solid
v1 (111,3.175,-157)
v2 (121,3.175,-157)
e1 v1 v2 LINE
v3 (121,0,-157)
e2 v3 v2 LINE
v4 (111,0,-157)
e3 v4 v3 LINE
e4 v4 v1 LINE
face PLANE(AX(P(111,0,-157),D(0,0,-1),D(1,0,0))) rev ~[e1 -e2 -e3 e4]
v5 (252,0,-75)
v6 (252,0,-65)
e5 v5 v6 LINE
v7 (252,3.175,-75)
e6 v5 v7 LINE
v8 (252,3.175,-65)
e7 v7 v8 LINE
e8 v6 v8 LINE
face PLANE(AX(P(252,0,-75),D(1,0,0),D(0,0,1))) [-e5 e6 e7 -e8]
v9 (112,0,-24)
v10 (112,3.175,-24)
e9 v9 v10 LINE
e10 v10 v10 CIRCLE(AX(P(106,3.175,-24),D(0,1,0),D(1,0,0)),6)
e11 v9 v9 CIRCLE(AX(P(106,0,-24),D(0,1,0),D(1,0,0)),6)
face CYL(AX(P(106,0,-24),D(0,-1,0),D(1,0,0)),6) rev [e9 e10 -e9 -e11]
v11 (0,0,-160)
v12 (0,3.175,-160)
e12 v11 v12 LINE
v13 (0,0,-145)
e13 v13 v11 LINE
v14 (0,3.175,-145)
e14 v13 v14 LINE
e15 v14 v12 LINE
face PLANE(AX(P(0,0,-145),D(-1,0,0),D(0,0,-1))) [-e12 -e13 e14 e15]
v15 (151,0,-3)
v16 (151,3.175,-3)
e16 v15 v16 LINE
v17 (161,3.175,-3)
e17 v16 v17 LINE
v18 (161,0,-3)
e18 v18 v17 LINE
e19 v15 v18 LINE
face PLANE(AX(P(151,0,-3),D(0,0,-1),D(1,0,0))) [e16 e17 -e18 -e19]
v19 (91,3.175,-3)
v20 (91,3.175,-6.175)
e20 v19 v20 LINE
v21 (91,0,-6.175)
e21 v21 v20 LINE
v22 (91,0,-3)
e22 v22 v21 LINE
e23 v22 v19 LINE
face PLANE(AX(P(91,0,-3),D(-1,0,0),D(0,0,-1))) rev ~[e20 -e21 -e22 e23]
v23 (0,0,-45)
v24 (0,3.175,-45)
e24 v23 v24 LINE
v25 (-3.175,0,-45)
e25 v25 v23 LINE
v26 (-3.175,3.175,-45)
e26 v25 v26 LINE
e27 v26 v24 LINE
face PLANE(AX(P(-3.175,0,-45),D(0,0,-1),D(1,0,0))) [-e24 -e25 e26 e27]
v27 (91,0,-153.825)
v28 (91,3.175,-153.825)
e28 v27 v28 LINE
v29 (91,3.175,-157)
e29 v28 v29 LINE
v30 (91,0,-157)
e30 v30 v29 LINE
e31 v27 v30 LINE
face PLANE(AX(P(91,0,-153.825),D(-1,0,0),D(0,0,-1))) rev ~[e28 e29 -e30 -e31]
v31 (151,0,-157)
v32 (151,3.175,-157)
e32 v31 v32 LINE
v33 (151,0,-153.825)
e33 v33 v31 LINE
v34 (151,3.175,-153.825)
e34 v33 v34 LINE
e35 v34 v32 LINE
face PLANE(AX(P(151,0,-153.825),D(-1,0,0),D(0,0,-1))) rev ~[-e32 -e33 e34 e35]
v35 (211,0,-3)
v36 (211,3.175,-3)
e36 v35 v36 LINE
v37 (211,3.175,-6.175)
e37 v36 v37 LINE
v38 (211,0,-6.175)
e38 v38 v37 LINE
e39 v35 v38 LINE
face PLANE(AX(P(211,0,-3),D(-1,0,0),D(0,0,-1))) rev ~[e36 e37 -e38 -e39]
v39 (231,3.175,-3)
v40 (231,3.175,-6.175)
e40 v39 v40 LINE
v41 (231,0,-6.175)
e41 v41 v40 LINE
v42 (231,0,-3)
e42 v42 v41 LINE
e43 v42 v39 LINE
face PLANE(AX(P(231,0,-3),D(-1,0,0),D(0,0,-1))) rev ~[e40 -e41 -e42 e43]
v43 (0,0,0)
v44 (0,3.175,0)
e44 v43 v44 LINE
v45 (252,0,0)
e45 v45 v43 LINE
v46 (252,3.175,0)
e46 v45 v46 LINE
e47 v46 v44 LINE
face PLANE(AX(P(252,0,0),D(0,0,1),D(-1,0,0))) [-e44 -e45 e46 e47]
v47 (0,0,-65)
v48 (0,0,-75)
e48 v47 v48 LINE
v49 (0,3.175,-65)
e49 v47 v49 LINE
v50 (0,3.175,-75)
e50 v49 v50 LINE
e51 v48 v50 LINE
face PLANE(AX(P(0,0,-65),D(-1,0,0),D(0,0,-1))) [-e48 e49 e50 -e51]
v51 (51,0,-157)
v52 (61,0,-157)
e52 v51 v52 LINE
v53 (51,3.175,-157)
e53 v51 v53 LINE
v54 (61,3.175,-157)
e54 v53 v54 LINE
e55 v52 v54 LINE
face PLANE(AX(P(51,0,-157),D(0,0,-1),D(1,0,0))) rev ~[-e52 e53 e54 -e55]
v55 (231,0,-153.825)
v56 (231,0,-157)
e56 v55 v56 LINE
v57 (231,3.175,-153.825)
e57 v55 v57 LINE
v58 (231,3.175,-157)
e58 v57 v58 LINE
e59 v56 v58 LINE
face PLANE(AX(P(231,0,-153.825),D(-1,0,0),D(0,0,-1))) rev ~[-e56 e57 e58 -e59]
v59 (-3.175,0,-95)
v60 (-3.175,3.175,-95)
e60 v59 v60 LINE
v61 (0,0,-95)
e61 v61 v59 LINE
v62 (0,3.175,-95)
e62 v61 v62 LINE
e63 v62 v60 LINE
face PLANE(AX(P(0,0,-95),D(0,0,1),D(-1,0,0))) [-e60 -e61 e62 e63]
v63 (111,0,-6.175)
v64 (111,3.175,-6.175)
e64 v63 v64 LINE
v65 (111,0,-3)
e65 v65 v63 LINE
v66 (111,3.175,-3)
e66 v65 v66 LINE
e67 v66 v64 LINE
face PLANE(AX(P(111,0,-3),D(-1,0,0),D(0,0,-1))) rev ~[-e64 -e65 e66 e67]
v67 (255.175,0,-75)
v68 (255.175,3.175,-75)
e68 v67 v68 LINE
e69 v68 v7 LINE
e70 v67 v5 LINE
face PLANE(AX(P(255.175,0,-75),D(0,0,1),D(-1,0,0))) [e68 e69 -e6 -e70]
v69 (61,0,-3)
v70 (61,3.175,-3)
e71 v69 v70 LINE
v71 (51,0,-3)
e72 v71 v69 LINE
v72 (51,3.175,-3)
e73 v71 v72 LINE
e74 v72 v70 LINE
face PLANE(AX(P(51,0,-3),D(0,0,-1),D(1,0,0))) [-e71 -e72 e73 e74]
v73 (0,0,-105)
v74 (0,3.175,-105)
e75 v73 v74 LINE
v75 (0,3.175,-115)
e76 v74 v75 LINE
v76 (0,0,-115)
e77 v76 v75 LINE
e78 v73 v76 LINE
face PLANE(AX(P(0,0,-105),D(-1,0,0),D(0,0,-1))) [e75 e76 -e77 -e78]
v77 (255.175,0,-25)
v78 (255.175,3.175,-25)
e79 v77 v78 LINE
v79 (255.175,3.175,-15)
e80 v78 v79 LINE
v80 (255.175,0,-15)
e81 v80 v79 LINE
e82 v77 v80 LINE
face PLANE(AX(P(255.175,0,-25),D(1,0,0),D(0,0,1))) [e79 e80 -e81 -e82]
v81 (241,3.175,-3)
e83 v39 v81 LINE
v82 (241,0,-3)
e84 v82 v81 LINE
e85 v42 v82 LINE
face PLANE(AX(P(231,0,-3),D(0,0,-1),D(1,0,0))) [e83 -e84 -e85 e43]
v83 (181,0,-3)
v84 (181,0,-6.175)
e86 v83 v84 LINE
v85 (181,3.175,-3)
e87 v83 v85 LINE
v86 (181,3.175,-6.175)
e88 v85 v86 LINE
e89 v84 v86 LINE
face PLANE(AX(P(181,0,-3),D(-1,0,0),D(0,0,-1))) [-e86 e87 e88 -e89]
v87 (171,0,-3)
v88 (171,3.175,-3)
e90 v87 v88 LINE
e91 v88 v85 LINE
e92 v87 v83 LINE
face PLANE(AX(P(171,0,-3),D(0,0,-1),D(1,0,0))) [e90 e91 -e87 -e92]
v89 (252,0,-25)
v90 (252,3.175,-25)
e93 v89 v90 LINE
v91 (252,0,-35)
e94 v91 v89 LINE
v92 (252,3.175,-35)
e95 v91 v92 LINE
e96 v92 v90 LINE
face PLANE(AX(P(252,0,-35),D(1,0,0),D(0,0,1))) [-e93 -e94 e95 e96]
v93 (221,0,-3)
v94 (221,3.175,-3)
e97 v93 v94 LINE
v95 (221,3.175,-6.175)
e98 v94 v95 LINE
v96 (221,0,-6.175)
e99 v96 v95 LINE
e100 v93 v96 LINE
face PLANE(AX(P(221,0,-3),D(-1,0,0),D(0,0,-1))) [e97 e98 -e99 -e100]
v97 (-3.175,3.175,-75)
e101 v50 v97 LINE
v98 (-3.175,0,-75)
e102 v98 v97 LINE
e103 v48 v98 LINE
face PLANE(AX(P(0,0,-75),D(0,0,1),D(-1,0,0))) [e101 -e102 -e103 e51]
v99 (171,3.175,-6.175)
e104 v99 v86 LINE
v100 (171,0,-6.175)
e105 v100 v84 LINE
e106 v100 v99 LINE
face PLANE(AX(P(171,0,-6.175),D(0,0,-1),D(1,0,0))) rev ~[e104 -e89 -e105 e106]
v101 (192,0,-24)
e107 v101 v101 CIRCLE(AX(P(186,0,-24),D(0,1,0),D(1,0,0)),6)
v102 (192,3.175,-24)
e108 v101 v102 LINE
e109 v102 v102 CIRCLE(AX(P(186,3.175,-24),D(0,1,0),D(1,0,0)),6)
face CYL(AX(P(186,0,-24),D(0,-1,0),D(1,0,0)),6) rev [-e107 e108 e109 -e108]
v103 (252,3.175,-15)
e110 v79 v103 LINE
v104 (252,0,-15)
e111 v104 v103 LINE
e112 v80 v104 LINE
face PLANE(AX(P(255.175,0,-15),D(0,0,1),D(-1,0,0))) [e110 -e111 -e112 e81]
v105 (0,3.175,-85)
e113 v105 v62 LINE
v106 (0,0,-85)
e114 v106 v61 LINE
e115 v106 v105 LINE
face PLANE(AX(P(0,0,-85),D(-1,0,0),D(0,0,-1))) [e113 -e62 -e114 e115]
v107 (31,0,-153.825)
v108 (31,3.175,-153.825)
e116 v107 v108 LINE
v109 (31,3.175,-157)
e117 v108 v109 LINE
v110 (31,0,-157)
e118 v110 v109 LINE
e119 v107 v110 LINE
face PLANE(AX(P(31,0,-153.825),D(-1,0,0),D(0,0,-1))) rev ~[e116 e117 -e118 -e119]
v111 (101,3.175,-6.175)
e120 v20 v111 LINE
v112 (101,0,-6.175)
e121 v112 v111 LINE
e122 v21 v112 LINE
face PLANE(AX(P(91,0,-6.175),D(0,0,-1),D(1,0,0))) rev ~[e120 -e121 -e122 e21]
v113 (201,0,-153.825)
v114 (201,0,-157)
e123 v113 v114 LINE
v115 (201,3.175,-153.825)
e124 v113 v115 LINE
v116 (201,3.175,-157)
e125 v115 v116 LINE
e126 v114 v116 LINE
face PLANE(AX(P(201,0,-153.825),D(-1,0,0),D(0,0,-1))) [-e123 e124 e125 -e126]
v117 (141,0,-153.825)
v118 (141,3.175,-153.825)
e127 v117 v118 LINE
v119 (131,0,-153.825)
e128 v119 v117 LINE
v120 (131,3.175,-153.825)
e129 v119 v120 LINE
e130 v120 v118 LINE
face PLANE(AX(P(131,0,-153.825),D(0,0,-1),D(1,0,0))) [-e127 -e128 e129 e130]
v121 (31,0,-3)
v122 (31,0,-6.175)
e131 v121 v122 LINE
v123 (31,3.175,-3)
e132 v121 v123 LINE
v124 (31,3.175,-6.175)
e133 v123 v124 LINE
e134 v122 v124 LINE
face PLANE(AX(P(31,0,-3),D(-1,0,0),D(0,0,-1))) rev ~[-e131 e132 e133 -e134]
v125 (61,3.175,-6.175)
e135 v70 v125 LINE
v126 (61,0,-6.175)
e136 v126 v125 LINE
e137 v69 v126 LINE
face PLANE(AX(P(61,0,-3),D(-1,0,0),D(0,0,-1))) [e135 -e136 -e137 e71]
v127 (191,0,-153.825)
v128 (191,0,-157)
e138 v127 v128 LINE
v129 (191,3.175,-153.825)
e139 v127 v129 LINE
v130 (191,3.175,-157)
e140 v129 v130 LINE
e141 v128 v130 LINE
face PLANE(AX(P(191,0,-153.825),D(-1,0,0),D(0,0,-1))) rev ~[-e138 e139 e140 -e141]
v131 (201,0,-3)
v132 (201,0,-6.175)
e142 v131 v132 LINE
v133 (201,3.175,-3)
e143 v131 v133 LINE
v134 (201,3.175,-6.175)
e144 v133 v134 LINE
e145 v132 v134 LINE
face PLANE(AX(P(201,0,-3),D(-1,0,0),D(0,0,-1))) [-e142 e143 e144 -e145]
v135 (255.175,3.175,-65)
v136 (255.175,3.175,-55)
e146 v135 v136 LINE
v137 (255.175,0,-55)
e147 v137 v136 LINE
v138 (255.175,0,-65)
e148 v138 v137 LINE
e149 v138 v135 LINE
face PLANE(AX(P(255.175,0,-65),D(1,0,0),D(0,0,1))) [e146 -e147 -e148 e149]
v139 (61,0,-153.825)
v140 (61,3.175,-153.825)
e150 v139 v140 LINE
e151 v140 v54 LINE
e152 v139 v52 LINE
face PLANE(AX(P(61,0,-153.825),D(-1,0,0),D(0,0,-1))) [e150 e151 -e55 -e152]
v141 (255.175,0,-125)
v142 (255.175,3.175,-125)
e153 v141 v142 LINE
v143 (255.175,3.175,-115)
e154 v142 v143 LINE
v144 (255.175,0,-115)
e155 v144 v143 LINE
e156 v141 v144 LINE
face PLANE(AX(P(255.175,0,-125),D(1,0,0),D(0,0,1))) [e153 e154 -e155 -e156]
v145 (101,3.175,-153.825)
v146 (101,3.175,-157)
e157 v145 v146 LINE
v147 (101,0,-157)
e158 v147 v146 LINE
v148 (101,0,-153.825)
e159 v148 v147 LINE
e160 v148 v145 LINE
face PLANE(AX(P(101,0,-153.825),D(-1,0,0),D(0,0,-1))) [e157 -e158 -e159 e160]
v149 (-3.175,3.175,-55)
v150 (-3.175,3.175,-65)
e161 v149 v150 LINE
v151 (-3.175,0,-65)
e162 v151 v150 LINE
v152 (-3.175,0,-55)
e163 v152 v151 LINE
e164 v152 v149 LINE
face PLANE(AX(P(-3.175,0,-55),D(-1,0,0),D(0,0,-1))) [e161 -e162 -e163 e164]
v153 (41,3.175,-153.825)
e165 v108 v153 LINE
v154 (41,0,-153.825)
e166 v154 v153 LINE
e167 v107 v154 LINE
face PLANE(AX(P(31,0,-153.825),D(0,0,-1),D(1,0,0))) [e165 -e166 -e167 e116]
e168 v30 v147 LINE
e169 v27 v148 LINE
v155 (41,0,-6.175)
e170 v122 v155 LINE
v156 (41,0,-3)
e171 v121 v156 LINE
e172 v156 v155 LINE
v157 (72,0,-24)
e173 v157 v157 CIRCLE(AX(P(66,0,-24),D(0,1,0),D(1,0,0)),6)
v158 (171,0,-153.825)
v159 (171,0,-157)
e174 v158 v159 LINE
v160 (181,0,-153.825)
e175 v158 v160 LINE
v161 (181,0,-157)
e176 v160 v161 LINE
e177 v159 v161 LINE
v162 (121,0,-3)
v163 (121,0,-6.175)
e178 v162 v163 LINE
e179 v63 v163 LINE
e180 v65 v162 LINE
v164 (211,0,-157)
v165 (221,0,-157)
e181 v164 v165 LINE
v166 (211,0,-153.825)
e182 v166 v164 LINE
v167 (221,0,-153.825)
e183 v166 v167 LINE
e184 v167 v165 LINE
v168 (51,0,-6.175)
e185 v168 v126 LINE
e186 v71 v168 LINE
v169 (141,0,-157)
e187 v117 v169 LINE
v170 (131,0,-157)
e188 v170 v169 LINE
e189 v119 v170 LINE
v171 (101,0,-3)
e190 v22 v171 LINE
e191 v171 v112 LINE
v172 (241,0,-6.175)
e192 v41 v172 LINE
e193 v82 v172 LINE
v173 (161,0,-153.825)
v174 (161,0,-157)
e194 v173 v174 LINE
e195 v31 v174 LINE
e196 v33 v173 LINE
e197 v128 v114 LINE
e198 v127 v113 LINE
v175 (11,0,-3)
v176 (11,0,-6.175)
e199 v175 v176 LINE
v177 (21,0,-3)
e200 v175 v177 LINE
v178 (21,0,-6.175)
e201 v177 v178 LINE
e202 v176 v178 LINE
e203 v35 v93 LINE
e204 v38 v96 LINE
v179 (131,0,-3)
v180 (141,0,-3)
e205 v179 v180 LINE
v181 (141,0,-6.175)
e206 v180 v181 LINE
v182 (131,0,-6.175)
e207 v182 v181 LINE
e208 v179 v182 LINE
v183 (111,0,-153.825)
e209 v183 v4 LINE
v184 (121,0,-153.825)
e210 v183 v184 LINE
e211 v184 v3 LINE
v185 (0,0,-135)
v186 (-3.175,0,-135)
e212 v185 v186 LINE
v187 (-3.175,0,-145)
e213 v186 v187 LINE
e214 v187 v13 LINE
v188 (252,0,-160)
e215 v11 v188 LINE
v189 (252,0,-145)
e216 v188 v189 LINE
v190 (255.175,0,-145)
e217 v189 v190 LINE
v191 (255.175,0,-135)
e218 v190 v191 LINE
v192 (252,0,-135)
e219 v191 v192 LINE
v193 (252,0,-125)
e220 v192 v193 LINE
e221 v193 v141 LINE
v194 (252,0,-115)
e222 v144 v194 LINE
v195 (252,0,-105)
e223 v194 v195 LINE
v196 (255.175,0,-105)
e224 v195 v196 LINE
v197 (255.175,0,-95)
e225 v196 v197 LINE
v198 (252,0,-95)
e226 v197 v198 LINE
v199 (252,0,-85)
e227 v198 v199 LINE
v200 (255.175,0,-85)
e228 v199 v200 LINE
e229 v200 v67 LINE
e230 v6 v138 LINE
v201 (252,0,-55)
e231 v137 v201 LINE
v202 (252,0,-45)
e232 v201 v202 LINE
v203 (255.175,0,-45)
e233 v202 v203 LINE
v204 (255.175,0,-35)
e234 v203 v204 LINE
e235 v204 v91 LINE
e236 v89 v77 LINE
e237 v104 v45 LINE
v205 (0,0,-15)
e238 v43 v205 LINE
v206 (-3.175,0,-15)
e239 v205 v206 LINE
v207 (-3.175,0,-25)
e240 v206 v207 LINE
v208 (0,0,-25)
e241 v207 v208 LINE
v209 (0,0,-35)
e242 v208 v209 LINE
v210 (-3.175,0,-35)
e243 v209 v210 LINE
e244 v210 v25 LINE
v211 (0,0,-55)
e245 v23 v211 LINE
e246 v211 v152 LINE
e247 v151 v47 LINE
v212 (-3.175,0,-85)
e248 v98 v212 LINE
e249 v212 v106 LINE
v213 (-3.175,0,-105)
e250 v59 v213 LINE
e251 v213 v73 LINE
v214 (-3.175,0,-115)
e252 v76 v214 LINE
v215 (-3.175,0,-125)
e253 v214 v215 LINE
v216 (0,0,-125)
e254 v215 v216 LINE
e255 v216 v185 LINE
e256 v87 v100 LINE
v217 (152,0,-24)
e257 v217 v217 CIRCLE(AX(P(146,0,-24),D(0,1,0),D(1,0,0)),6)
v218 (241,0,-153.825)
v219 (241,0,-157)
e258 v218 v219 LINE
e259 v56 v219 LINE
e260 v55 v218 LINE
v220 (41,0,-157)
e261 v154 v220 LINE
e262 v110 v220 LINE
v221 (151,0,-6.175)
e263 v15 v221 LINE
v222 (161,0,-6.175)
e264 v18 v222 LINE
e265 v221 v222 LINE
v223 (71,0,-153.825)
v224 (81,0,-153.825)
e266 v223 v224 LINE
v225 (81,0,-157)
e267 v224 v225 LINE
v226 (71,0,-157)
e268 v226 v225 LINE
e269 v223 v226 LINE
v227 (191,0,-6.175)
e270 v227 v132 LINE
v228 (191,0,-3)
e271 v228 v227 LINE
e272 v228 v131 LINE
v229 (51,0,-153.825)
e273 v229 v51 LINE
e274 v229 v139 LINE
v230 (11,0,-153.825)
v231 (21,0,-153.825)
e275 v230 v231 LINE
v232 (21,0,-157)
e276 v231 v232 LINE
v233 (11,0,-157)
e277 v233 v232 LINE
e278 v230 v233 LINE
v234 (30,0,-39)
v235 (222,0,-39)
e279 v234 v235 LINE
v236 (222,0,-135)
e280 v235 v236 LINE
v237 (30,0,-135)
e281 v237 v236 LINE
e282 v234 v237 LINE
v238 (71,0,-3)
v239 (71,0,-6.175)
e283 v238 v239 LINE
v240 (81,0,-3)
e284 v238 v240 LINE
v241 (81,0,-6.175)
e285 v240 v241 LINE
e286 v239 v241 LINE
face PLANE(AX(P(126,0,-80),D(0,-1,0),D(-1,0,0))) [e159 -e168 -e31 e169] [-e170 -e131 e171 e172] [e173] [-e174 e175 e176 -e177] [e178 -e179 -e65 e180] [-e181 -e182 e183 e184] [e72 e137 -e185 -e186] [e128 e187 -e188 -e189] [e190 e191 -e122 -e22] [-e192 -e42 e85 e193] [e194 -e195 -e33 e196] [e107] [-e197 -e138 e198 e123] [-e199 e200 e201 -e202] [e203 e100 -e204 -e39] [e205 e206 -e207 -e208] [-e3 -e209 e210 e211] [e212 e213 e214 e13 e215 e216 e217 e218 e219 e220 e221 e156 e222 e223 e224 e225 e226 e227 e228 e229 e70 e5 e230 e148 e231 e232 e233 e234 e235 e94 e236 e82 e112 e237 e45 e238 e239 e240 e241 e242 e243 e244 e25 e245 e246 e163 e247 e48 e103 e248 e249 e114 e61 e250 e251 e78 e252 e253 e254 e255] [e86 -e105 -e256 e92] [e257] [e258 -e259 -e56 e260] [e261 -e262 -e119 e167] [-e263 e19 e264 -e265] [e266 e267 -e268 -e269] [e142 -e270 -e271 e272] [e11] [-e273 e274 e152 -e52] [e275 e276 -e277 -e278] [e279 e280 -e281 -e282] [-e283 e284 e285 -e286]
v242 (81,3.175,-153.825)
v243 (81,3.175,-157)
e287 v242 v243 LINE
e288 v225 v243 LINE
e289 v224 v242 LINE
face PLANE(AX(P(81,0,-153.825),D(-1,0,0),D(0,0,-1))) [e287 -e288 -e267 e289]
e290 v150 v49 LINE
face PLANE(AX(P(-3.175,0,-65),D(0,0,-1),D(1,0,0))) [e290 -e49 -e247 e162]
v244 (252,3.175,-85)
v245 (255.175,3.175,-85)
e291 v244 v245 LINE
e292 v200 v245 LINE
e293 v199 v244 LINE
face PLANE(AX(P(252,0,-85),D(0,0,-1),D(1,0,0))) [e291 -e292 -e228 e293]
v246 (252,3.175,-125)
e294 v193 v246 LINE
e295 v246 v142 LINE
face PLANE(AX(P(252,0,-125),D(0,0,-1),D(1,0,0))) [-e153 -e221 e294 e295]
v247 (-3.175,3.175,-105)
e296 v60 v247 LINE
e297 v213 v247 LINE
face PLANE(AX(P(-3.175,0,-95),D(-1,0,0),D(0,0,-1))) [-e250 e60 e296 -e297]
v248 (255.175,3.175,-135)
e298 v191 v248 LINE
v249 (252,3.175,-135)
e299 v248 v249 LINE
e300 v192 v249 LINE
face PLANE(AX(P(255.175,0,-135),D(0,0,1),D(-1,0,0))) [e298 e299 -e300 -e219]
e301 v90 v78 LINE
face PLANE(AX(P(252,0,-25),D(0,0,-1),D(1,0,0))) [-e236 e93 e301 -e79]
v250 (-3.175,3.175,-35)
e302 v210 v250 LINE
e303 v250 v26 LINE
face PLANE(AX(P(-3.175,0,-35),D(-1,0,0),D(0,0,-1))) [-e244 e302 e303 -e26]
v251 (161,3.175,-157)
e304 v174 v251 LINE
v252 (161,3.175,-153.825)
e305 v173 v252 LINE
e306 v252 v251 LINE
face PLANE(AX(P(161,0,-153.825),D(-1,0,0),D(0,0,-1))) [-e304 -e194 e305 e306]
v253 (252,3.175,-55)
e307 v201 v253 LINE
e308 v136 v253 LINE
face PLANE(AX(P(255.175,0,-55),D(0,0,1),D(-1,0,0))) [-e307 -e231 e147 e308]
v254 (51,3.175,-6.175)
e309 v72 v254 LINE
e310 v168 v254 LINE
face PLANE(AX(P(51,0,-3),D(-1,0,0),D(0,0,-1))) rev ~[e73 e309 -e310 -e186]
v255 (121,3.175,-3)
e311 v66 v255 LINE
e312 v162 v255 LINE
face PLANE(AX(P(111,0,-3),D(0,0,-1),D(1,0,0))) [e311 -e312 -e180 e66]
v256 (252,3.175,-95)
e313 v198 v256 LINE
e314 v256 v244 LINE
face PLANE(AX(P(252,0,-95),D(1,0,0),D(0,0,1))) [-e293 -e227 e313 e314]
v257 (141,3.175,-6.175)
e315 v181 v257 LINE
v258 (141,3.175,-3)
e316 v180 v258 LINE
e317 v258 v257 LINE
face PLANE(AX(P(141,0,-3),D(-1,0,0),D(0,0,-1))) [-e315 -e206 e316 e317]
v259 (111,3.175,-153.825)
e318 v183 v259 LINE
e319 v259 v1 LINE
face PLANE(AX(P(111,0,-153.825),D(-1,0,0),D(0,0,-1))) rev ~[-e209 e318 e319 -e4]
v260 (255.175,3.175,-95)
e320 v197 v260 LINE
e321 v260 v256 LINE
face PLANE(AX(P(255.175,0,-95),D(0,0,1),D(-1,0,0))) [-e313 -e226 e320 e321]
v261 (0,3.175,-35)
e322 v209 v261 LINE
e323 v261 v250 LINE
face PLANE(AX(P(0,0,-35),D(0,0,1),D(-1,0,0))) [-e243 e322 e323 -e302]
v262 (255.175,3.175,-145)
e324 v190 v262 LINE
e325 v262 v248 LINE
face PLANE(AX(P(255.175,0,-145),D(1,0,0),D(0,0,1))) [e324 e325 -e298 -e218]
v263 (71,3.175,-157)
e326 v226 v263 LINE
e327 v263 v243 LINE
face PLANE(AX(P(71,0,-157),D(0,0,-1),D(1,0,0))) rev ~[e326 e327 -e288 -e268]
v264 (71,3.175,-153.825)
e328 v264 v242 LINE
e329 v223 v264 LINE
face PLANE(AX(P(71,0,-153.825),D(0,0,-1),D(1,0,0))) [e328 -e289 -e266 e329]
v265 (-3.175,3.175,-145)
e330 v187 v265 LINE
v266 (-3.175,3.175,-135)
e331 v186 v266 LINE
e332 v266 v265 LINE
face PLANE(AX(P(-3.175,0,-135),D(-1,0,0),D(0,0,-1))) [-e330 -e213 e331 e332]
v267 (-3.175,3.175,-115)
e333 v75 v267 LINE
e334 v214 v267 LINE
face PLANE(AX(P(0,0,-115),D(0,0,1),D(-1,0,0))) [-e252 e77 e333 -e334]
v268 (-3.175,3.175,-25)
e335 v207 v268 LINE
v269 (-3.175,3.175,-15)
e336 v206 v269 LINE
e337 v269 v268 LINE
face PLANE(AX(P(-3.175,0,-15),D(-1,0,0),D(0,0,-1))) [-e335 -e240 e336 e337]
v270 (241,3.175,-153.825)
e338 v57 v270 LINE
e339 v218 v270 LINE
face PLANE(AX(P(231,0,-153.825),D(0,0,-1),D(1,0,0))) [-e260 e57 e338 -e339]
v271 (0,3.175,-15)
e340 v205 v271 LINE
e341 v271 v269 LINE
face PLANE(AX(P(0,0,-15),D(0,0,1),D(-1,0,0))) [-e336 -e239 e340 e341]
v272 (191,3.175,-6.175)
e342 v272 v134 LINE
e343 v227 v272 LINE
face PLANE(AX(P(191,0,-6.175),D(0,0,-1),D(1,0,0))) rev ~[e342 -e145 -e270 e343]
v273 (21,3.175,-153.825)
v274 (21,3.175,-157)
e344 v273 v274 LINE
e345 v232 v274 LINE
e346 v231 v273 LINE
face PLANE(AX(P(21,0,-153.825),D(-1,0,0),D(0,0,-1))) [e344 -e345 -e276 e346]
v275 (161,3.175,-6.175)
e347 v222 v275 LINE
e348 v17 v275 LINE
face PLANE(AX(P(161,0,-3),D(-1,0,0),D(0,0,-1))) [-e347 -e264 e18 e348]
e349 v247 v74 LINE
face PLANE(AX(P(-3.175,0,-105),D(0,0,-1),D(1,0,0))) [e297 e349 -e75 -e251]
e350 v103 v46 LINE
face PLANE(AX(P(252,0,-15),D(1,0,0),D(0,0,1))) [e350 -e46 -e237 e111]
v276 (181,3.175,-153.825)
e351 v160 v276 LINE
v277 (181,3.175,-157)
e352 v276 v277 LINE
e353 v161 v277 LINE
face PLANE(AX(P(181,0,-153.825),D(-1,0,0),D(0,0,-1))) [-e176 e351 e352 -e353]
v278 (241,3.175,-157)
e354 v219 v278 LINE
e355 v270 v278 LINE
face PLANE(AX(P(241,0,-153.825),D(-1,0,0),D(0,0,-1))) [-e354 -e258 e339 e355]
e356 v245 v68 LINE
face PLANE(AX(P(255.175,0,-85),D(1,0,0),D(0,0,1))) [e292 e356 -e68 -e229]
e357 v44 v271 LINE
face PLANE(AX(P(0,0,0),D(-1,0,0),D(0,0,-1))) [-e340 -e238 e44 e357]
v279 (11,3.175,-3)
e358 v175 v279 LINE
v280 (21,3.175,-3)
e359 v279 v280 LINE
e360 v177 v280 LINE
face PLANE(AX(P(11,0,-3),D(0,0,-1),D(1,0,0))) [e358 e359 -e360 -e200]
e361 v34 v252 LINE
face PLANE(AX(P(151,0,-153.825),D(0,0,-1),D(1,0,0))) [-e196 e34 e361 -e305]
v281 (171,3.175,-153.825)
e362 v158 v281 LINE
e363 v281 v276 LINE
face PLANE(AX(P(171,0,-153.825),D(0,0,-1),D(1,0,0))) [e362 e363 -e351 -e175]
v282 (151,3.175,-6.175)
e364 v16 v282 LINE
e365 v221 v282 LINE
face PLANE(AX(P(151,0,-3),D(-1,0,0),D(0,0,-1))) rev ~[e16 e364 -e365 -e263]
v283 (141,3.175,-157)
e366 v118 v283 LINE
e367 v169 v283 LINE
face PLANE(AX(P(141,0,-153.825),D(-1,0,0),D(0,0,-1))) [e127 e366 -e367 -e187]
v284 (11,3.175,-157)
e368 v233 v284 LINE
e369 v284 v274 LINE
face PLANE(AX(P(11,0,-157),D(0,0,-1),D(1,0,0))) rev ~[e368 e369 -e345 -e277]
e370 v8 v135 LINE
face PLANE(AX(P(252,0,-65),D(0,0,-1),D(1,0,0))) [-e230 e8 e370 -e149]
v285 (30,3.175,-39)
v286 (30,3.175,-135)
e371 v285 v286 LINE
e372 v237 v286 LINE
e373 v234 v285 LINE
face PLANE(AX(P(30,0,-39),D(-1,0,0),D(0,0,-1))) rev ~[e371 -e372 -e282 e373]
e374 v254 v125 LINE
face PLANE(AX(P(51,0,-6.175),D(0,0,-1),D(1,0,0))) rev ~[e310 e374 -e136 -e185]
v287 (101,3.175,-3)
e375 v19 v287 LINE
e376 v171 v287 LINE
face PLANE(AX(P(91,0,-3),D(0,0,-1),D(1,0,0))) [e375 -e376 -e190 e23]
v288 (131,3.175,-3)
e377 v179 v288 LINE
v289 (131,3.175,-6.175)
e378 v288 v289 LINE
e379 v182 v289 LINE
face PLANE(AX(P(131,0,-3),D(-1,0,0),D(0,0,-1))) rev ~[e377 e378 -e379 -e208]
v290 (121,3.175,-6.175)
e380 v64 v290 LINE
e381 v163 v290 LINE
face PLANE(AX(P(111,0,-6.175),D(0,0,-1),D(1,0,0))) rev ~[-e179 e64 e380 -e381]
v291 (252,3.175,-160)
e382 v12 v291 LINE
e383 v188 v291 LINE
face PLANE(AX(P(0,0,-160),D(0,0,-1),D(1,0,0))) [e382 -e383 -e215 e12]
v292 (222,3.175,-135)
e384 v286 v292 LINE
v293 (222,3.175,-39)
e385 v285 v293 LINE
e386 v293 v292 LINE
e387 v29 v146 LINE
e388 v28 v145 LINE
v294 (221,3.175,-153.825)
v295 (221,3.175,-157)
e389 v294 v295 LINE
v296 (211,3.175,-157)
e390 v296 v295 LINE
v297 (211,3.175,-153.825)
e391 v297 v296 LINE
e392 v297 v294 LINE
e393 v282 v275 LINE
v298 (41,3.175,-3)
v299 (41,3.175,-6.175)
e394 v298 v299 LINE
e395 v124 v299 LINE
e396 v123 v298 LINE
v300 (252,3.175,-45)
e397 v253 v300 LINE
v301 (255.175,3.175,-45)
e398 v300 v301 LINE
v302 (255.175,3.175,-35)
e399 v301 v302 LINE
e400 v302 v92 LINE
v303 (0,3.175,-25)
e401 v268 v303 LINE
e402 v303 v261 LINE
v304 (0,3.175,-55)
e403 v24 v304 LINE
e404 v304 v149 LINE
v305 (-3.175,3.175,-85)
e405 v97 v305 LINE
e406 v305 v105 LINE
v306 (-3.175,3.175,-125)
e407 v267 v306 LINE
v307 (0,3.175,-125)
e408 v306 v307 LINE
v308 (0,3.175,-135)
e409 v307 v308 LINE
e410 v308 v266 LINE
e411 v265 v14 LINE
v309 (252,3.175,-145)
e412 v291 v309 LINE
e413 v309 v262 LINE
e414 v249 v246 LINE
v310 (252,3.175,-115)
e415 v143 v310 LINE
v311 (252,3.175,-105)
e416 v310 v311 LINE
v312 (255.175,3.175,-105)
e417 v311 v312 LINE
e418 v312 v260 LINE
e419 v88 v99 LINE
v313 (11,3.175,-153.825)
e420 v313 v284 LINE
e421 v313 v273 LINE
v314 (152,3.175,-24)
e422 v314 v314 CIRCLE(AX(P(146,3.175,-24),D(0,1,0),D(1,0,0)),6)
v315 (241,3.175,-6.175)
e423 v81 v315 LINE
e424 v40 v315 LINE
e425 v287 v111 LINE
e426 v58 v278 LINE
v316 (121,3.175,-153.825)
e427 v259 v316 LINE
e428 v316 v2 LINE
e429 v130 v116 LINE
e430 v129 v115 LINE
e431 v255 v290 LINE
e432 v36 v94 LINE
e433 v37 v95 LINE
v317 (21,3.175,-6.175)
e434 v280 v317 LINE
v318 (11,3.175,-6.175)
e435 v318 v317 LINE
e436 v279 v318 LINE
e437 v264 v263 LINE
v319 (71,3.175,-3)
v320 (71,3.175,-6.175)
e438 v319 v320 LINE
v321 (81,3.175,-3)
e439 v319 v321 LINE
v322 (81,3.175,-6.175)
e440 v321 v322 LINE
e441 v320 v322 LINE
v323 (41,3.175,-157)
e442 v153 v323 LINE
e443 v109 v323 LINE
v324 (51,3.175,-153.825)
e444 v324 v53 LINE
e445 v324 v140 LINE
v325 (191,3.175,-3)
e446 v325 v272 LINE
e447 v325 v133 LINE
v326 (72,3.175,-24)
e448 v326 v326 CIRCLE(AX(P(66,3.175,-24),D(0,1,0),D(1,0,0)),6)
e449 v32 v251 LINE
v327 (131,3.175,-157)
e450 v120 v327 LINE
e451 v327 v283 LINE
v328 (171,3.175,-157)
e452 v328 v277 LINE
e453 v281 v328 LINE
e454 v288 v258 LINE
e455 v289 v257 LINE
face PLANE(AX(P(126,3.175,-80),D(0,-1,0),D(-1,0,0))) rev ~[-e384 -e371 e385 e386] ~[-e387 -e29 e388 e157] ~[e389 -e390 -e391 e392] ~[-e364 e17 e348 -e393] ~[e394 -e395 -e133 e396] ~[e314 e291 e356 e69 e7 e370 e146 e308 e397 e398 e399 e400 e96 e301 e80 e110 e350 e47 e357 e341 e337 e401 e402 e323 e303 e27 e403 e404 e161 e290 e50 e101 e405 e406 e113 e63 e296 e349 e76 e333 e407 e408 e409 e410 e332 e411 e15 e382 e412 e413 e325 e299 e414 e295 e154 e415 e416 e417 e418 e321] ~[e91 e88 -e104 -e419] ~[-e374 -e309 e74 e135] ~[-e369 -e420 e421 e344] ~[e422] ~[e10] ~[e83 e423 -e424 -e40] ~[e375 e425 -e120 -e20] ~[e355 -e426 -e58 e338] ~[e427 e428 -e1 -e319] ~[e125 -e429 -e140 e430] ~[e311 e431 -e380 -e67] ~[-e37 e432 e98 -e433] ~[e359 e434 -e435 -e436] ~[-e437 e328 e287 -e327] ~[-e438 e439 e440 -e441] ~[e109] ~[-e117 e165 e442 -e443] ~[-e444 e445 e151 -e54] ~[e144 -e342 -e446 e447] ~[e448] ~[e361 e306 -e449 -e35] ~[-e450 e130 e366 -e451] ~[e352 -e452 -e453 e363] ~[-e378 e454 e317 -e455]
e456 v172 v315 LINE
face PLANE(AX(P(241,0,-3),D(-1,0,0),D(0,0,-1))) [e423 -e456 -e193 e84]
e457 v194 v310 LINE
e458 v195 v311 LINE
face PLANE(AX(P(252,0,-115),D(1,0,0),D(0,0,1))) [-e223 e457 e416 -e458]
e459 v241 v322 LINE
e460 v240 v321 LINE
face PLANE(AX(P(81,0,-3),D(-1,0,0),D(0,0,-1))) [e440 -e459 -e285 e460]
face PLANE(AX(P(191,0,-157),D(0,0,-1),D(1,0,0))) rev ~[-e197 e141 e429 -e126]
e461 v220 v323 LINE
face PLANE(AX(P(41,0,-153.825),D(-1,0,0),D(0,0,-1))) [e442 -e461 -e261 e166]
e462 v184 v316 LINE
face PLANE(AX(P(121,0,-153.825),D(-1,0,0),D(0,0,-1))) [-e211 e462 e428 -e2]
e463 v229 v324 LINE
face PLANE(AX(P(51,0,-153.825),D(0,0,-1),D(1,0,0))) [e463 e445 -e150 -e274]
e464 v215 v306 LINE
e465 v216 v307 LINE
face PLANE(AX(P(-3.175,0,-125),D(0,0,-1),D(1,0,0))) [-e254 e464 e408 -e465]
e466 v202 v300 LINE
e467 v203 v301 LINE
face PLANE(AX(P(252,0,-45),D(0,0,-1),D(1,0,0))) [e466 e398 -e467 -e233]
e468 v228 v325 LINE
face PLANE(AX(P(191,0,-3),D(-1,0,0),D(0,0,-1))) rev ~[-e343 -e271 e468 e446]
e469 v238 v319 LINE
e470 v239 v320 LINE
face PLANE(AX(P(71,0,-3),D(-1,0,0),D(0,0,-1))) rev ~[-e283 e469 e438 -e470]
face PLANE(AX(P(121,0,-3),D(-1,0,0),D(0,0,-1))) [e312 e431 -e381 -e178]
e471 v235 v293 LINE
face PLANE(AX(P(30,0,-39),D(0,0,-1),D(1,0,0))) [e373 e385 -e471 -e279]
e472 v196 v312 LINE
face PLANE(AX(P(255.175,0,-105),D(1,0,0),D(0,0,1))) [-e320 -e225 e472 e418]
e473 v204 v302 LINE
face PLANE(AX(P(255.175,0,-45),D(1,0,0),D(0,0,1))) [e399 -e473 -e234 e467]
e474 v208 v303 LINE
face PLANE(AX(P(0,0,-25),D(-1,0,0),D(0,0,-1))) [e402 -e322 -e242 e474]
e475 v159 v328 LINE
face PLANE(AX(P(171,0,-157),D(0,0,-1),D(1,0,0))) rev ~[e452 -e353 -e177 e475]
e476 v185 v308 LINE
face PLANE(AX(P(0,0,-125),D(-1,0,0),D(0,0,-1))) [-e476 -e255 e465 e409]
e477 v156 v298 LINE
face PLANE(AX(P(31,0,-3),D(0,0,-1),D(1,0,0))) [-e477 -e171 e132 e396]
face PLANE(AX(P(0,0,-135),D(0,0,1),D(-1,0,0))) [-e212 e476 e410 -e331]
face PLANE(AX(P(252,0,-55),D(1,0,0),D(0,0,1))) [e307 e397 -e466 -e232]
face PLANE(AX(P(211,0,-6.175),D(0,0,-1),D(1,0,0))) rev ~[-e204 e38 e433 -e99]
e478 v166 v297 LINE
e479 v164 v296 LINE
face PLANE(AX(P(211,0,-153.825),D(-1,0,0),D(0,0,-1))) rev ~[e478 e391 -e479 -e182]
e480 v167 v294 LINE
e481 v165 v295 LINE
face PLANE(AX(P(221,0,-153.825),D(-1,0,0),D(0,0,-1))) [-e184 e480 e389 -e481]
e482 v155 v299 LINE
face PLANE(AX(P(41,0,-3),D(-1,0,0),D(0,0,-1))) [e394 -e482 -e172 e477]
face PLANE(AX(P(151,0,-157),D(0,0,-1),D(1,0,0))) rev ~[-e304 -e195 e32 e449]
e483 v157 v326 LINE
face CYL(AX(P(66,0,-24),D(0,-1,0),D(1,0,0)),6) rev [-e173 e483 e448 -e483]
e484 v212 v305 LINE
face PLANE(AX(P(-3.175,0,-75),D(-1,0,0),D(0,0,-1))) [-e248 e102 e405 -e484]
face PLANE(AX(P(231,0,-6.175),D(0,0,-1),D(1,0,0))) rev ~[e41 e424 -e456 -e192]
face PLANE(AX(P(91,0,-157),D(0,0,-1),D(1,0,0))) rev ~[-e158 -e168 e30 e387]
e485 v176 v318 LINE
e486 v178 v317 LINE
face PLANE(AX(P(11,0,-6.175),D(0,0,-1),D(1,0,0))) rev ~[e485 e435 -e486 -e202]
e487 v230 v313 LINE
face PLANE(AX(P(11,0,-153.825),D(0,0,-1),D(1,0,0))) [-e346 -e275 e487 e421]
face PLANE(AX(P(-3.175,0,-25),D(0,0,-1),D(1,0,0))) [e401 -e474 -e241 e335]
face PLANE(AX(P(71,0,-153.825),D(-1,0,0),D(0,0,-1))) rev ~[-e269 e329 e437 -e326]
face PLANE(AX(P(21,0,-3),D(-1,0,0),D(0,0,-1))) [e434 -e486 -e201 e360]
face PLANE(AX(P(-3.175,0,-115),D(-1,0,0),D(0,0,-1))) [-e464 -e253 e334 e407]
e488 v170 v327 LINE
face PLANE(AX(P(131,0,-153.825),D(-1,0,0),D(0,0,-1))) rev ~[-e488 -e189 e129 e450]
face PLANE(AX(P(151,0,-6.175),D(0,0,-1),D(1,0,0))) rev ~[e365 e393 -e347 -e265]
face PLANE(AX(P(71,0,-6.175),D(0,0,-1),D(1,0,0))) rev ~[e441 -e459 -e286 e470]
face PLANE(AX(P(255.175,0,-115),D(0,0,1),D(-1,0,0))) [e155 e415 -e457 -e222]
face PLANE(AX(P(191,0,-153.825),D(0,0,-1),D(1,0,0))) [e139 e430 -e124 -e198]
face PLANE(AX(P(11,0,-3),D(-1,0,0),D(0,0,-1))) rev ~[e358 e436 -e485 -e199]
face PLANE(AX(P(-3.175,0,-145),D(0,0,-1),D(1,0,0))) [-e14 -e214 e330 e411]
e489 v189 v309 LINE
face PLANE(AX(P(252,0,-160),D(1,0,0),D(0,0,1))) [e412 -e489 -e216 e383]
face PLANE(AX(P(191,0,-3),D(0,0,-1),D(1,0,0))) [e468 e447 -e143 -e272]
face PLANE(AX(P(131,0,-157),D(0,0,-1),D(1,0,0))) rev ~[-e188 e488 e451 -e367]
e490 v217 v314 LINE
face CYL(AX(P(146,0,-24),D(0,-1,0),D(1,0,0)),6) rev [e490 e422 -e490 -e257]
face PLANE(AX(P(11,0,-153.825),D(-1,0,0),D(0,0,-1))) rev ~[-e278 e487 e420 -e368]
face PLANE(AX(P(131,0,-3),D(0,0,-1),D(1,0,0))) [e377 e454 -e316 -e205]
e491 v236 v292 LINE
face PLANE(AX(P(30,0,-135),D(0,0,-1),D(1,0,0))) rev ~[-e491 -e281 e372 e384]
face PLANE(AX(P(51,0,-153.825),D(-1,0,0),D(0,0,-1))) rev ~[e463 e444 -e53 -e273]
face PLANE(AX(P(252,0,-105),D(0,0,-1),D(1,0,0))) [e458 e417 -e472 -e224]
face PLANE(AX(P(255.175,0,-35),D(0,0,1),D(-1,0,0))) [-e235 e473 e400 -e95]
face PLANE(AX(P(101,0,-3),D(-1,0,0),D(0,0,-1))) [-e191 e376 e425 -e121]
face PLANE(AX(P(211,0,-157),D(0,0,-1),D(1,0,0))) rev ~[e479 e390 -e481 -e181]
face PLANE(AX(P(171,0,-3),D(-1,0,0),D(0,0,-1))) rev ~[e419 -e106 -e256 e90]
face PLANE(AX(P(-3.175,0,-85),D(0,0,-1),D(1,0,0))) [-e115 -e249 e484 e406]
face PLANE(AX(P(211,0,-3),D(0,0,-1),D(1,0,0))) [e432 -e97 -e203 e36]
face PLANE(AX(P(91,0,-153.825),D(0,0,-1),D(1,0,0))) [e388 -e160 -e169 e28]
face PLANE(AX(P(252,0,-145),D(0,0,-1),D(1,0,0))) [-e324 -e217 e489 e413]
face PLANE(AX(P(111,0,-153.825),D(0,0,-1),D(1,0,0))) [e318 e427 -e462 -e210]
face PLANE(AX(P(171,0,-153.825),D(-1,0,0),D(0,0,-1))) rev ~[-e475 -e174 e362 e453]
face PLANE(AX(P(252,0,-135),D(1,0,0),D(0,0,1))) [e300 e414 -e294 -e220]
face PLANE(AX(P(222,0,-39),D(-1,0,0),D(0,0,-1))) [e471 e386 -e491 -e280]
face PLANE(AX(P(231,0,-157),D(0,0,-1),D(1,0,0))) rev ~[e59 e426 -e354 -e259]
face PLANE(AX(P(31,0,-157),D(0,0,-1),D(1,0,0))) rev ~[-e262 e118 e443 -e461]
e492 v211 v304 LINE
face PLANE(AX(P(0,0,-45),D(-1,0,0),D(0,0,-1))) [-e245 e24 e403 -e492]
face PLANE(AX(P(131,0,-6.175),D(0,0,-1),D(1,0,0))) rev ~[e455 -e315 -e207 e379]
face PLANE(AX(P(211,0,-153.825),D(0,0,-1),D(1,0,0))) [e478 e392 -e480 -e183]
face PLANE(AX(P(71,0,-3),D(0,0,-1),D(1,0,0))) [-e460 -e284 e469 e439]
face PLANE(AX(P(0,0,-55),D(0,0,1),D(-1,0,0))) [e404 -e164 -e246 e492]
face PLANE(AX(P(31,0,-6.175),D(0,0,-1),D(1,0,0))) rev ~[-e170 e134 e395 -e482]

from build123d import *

# Parameters (mm, degrees)
SKETCH1_R           = 6
SKETCH1_W           = 10
SKETCH1_H           = 3.175
SKETCH1_W_2         = 192
SKETCH1_H_2         = 96
BOSS_EXTRUDE1_DEPTH = 3.175


with BuildPart() as part:
    # Sketch1 → Boss-Extrude1 (new body)
    with BuildSketch(Plane(origin=(0, 0, 0), x_dir=(1, 0, 0), z_dir=(0, 1, 0))):
        Polygon((0, 145), (0, 160), (252, 160), (252, 145), (255.175, 145), (255.175, 135), (252, 135), (252, 125), (255.175, 125), (255.175, 115), (252, 115), (252, 105), (255.175, 105), (255.175, 95), (252, 95), (252, 85), (255.175, 85), (255.175, 75), (252, 75), (252, 65), (255.175, 65), (255.175, 55), (252, 55), (252, 45), (255.175, 45), (255.175, 35), (252, 35), (252, 25), (255.175, 25), (255.175, 15), (252, 15), (252, 0), (0, 0), (0, 15), (-3.175, 15), (-3.175, 25), (0, 25), (0, 35), (-3.175, 35), (-3.175, 45), (0, 45), (0, 55), (-3.175, 55), (-3.175, 65), (0, 65), (0, 75), (-3.175, 75), (-3.175, 85), (0, 85), (0, 95), (-3.175, 95), (-3.175, 105), (0, 105), (0, 115), (-3.175, 115), (-3.175, 125), (0, 125), (0, 135), (-3.175, 135), (-3.175, 145), align=None)
        with Locations((106, 24)):
            Circle(SKETCH1_R, mode=Mode.SUBTRACT)
        with Locations((66, 24)):
            Circle(SKETCH1_R, mode=Mode.SUBTRACT)
        with Locations((186, 24)):
            Circle(SKETCH1_R, mode=Mode.SUBTRACT)
        with Locations((146, 24)):
            Circle(SKETCH1_R, mode=Mode.SUBTRACT)
        with Locations((36, 155.4125)):
            Rectangle(SKETCH1_W, SKETCH1_H, mode=Mode.SUBTRACT)
        with Locations((126, 87)):
            Rectangle(SKETCH1_W_2, SKETCH1_H_2, mode=Mode.SUBTRACT)
        with Locations((16, 155.4125)):
            Rectangle(SKETCH1_W, SKETCH1_H, mode=Mode.SUBTRACT)
        with Locations((56, 155.4125)):
            Rectangle(SKETCH1_W, SKETCH1_H, mode=Mode.SUBTRACT)
        with Locations((76, 155.4125)):
            Rectangle(SKETCH1_W, SKETCH1_H, mode=Mode.SUBTRACT)
        with Locations((96, 155.4125)):
            Rectangle(SKETCH1_W, SKETCH1_H, mode=Mode.SUBTRACT)
        with Locations((116, 155.4125)):
            Rectangle(SKETCH1_W, SKETCH1_H, mode=Mode.SUBTRACT)
        with Locations((136, 155.4125)):
            Rectangle(SKETCH1_W, SKETCH1_H, mode=Mode.SUBTRACT)
        with Locations((156, 155.4125)):
            Rectangle(SKETCH1_W, SKETCH1_H, mode=Mode.SUBTRACT)
        with Locations((176, 155.4125)):
            Rectangle(SKETCH1_W, SKETCH1_H, mode=Mode.SUBTRACT)
        with Locations((196, 155.4125)):
            Rectangle(SKETCH1_W, SKETCH1_H, mode=Mode.SUBTRACT)
        with Locations((216, 155.4125)):
            Rectangle(SKETCH1_W, SKETCH1_H, mode=Mode.SUBTRACT)
        with Locations((236, 155.4125)):
            Rectangle(SKETCH1_W, SKETCH1_H, mode=Mode.SUBTRACT)
        with Locations((236, 4.5875)):
            Rectangle(SKETCH1_W, SKETCH1_H, mode=Mode.SUBTRACT)
        with Locations((216, 4.5875)):
            Rectangle(SKETCH1_W, SKETCH1_H, mode=Mode.SUBTRACT)
        with Locations((196, 4.5875)):
            Rectangle(SKETCH1_W, SKETCH1_H, mode=Mode.SUBTRACT)
        with Locations((176, 4.5875)):
            Rectangle(SKETCH1_W, SKETCH1_H, mode=Mode.SUBTRACT)
        with Locations((156, 4.5875)):
            Rectangle(SKETCH1_W, SKETCH1_H, mode=Mode.SUBTRACT)
        with Locations((136, 4.5875)):
            Rectangle(SKETCH1_W, SKETCH1_H, mode=Mode.SUBTRACT)
        with Locations((116, 4.5875)):
            Rectangle(SKETCH1_W, SKETCH1_H, mode=Mode.SUBTRACT)
        with Locations((96, 4.5875)):
            Rectangle(SKETCH1_W, SKETCH1_H, mode=Mode.SUBTRACT)
        with Locations((76, 4.5875)):
            Rectangle(SKETCH1_W, SKETCH1_H, mode=Mode.SUBTRACT)
        with Locations((56, 4.5875)):
            Rectangle(SKETCH1_W, SKETCH1_H, mode=Mode.SUBTRACT)
        with Locations((36, 4.5875)):
            Rectangle(SKETCH1_W, SKETCH1_H, mode=Mode.SUBTRACT)
        with Locations((16, 4.5875)):
            Rectangle(SKETCH1_W, SKETCH1_H, mode=Mode.SUBTRACT)
    extrude(amount=BOSS_EXTRUDE1_DEPTH)


solid = part.part
